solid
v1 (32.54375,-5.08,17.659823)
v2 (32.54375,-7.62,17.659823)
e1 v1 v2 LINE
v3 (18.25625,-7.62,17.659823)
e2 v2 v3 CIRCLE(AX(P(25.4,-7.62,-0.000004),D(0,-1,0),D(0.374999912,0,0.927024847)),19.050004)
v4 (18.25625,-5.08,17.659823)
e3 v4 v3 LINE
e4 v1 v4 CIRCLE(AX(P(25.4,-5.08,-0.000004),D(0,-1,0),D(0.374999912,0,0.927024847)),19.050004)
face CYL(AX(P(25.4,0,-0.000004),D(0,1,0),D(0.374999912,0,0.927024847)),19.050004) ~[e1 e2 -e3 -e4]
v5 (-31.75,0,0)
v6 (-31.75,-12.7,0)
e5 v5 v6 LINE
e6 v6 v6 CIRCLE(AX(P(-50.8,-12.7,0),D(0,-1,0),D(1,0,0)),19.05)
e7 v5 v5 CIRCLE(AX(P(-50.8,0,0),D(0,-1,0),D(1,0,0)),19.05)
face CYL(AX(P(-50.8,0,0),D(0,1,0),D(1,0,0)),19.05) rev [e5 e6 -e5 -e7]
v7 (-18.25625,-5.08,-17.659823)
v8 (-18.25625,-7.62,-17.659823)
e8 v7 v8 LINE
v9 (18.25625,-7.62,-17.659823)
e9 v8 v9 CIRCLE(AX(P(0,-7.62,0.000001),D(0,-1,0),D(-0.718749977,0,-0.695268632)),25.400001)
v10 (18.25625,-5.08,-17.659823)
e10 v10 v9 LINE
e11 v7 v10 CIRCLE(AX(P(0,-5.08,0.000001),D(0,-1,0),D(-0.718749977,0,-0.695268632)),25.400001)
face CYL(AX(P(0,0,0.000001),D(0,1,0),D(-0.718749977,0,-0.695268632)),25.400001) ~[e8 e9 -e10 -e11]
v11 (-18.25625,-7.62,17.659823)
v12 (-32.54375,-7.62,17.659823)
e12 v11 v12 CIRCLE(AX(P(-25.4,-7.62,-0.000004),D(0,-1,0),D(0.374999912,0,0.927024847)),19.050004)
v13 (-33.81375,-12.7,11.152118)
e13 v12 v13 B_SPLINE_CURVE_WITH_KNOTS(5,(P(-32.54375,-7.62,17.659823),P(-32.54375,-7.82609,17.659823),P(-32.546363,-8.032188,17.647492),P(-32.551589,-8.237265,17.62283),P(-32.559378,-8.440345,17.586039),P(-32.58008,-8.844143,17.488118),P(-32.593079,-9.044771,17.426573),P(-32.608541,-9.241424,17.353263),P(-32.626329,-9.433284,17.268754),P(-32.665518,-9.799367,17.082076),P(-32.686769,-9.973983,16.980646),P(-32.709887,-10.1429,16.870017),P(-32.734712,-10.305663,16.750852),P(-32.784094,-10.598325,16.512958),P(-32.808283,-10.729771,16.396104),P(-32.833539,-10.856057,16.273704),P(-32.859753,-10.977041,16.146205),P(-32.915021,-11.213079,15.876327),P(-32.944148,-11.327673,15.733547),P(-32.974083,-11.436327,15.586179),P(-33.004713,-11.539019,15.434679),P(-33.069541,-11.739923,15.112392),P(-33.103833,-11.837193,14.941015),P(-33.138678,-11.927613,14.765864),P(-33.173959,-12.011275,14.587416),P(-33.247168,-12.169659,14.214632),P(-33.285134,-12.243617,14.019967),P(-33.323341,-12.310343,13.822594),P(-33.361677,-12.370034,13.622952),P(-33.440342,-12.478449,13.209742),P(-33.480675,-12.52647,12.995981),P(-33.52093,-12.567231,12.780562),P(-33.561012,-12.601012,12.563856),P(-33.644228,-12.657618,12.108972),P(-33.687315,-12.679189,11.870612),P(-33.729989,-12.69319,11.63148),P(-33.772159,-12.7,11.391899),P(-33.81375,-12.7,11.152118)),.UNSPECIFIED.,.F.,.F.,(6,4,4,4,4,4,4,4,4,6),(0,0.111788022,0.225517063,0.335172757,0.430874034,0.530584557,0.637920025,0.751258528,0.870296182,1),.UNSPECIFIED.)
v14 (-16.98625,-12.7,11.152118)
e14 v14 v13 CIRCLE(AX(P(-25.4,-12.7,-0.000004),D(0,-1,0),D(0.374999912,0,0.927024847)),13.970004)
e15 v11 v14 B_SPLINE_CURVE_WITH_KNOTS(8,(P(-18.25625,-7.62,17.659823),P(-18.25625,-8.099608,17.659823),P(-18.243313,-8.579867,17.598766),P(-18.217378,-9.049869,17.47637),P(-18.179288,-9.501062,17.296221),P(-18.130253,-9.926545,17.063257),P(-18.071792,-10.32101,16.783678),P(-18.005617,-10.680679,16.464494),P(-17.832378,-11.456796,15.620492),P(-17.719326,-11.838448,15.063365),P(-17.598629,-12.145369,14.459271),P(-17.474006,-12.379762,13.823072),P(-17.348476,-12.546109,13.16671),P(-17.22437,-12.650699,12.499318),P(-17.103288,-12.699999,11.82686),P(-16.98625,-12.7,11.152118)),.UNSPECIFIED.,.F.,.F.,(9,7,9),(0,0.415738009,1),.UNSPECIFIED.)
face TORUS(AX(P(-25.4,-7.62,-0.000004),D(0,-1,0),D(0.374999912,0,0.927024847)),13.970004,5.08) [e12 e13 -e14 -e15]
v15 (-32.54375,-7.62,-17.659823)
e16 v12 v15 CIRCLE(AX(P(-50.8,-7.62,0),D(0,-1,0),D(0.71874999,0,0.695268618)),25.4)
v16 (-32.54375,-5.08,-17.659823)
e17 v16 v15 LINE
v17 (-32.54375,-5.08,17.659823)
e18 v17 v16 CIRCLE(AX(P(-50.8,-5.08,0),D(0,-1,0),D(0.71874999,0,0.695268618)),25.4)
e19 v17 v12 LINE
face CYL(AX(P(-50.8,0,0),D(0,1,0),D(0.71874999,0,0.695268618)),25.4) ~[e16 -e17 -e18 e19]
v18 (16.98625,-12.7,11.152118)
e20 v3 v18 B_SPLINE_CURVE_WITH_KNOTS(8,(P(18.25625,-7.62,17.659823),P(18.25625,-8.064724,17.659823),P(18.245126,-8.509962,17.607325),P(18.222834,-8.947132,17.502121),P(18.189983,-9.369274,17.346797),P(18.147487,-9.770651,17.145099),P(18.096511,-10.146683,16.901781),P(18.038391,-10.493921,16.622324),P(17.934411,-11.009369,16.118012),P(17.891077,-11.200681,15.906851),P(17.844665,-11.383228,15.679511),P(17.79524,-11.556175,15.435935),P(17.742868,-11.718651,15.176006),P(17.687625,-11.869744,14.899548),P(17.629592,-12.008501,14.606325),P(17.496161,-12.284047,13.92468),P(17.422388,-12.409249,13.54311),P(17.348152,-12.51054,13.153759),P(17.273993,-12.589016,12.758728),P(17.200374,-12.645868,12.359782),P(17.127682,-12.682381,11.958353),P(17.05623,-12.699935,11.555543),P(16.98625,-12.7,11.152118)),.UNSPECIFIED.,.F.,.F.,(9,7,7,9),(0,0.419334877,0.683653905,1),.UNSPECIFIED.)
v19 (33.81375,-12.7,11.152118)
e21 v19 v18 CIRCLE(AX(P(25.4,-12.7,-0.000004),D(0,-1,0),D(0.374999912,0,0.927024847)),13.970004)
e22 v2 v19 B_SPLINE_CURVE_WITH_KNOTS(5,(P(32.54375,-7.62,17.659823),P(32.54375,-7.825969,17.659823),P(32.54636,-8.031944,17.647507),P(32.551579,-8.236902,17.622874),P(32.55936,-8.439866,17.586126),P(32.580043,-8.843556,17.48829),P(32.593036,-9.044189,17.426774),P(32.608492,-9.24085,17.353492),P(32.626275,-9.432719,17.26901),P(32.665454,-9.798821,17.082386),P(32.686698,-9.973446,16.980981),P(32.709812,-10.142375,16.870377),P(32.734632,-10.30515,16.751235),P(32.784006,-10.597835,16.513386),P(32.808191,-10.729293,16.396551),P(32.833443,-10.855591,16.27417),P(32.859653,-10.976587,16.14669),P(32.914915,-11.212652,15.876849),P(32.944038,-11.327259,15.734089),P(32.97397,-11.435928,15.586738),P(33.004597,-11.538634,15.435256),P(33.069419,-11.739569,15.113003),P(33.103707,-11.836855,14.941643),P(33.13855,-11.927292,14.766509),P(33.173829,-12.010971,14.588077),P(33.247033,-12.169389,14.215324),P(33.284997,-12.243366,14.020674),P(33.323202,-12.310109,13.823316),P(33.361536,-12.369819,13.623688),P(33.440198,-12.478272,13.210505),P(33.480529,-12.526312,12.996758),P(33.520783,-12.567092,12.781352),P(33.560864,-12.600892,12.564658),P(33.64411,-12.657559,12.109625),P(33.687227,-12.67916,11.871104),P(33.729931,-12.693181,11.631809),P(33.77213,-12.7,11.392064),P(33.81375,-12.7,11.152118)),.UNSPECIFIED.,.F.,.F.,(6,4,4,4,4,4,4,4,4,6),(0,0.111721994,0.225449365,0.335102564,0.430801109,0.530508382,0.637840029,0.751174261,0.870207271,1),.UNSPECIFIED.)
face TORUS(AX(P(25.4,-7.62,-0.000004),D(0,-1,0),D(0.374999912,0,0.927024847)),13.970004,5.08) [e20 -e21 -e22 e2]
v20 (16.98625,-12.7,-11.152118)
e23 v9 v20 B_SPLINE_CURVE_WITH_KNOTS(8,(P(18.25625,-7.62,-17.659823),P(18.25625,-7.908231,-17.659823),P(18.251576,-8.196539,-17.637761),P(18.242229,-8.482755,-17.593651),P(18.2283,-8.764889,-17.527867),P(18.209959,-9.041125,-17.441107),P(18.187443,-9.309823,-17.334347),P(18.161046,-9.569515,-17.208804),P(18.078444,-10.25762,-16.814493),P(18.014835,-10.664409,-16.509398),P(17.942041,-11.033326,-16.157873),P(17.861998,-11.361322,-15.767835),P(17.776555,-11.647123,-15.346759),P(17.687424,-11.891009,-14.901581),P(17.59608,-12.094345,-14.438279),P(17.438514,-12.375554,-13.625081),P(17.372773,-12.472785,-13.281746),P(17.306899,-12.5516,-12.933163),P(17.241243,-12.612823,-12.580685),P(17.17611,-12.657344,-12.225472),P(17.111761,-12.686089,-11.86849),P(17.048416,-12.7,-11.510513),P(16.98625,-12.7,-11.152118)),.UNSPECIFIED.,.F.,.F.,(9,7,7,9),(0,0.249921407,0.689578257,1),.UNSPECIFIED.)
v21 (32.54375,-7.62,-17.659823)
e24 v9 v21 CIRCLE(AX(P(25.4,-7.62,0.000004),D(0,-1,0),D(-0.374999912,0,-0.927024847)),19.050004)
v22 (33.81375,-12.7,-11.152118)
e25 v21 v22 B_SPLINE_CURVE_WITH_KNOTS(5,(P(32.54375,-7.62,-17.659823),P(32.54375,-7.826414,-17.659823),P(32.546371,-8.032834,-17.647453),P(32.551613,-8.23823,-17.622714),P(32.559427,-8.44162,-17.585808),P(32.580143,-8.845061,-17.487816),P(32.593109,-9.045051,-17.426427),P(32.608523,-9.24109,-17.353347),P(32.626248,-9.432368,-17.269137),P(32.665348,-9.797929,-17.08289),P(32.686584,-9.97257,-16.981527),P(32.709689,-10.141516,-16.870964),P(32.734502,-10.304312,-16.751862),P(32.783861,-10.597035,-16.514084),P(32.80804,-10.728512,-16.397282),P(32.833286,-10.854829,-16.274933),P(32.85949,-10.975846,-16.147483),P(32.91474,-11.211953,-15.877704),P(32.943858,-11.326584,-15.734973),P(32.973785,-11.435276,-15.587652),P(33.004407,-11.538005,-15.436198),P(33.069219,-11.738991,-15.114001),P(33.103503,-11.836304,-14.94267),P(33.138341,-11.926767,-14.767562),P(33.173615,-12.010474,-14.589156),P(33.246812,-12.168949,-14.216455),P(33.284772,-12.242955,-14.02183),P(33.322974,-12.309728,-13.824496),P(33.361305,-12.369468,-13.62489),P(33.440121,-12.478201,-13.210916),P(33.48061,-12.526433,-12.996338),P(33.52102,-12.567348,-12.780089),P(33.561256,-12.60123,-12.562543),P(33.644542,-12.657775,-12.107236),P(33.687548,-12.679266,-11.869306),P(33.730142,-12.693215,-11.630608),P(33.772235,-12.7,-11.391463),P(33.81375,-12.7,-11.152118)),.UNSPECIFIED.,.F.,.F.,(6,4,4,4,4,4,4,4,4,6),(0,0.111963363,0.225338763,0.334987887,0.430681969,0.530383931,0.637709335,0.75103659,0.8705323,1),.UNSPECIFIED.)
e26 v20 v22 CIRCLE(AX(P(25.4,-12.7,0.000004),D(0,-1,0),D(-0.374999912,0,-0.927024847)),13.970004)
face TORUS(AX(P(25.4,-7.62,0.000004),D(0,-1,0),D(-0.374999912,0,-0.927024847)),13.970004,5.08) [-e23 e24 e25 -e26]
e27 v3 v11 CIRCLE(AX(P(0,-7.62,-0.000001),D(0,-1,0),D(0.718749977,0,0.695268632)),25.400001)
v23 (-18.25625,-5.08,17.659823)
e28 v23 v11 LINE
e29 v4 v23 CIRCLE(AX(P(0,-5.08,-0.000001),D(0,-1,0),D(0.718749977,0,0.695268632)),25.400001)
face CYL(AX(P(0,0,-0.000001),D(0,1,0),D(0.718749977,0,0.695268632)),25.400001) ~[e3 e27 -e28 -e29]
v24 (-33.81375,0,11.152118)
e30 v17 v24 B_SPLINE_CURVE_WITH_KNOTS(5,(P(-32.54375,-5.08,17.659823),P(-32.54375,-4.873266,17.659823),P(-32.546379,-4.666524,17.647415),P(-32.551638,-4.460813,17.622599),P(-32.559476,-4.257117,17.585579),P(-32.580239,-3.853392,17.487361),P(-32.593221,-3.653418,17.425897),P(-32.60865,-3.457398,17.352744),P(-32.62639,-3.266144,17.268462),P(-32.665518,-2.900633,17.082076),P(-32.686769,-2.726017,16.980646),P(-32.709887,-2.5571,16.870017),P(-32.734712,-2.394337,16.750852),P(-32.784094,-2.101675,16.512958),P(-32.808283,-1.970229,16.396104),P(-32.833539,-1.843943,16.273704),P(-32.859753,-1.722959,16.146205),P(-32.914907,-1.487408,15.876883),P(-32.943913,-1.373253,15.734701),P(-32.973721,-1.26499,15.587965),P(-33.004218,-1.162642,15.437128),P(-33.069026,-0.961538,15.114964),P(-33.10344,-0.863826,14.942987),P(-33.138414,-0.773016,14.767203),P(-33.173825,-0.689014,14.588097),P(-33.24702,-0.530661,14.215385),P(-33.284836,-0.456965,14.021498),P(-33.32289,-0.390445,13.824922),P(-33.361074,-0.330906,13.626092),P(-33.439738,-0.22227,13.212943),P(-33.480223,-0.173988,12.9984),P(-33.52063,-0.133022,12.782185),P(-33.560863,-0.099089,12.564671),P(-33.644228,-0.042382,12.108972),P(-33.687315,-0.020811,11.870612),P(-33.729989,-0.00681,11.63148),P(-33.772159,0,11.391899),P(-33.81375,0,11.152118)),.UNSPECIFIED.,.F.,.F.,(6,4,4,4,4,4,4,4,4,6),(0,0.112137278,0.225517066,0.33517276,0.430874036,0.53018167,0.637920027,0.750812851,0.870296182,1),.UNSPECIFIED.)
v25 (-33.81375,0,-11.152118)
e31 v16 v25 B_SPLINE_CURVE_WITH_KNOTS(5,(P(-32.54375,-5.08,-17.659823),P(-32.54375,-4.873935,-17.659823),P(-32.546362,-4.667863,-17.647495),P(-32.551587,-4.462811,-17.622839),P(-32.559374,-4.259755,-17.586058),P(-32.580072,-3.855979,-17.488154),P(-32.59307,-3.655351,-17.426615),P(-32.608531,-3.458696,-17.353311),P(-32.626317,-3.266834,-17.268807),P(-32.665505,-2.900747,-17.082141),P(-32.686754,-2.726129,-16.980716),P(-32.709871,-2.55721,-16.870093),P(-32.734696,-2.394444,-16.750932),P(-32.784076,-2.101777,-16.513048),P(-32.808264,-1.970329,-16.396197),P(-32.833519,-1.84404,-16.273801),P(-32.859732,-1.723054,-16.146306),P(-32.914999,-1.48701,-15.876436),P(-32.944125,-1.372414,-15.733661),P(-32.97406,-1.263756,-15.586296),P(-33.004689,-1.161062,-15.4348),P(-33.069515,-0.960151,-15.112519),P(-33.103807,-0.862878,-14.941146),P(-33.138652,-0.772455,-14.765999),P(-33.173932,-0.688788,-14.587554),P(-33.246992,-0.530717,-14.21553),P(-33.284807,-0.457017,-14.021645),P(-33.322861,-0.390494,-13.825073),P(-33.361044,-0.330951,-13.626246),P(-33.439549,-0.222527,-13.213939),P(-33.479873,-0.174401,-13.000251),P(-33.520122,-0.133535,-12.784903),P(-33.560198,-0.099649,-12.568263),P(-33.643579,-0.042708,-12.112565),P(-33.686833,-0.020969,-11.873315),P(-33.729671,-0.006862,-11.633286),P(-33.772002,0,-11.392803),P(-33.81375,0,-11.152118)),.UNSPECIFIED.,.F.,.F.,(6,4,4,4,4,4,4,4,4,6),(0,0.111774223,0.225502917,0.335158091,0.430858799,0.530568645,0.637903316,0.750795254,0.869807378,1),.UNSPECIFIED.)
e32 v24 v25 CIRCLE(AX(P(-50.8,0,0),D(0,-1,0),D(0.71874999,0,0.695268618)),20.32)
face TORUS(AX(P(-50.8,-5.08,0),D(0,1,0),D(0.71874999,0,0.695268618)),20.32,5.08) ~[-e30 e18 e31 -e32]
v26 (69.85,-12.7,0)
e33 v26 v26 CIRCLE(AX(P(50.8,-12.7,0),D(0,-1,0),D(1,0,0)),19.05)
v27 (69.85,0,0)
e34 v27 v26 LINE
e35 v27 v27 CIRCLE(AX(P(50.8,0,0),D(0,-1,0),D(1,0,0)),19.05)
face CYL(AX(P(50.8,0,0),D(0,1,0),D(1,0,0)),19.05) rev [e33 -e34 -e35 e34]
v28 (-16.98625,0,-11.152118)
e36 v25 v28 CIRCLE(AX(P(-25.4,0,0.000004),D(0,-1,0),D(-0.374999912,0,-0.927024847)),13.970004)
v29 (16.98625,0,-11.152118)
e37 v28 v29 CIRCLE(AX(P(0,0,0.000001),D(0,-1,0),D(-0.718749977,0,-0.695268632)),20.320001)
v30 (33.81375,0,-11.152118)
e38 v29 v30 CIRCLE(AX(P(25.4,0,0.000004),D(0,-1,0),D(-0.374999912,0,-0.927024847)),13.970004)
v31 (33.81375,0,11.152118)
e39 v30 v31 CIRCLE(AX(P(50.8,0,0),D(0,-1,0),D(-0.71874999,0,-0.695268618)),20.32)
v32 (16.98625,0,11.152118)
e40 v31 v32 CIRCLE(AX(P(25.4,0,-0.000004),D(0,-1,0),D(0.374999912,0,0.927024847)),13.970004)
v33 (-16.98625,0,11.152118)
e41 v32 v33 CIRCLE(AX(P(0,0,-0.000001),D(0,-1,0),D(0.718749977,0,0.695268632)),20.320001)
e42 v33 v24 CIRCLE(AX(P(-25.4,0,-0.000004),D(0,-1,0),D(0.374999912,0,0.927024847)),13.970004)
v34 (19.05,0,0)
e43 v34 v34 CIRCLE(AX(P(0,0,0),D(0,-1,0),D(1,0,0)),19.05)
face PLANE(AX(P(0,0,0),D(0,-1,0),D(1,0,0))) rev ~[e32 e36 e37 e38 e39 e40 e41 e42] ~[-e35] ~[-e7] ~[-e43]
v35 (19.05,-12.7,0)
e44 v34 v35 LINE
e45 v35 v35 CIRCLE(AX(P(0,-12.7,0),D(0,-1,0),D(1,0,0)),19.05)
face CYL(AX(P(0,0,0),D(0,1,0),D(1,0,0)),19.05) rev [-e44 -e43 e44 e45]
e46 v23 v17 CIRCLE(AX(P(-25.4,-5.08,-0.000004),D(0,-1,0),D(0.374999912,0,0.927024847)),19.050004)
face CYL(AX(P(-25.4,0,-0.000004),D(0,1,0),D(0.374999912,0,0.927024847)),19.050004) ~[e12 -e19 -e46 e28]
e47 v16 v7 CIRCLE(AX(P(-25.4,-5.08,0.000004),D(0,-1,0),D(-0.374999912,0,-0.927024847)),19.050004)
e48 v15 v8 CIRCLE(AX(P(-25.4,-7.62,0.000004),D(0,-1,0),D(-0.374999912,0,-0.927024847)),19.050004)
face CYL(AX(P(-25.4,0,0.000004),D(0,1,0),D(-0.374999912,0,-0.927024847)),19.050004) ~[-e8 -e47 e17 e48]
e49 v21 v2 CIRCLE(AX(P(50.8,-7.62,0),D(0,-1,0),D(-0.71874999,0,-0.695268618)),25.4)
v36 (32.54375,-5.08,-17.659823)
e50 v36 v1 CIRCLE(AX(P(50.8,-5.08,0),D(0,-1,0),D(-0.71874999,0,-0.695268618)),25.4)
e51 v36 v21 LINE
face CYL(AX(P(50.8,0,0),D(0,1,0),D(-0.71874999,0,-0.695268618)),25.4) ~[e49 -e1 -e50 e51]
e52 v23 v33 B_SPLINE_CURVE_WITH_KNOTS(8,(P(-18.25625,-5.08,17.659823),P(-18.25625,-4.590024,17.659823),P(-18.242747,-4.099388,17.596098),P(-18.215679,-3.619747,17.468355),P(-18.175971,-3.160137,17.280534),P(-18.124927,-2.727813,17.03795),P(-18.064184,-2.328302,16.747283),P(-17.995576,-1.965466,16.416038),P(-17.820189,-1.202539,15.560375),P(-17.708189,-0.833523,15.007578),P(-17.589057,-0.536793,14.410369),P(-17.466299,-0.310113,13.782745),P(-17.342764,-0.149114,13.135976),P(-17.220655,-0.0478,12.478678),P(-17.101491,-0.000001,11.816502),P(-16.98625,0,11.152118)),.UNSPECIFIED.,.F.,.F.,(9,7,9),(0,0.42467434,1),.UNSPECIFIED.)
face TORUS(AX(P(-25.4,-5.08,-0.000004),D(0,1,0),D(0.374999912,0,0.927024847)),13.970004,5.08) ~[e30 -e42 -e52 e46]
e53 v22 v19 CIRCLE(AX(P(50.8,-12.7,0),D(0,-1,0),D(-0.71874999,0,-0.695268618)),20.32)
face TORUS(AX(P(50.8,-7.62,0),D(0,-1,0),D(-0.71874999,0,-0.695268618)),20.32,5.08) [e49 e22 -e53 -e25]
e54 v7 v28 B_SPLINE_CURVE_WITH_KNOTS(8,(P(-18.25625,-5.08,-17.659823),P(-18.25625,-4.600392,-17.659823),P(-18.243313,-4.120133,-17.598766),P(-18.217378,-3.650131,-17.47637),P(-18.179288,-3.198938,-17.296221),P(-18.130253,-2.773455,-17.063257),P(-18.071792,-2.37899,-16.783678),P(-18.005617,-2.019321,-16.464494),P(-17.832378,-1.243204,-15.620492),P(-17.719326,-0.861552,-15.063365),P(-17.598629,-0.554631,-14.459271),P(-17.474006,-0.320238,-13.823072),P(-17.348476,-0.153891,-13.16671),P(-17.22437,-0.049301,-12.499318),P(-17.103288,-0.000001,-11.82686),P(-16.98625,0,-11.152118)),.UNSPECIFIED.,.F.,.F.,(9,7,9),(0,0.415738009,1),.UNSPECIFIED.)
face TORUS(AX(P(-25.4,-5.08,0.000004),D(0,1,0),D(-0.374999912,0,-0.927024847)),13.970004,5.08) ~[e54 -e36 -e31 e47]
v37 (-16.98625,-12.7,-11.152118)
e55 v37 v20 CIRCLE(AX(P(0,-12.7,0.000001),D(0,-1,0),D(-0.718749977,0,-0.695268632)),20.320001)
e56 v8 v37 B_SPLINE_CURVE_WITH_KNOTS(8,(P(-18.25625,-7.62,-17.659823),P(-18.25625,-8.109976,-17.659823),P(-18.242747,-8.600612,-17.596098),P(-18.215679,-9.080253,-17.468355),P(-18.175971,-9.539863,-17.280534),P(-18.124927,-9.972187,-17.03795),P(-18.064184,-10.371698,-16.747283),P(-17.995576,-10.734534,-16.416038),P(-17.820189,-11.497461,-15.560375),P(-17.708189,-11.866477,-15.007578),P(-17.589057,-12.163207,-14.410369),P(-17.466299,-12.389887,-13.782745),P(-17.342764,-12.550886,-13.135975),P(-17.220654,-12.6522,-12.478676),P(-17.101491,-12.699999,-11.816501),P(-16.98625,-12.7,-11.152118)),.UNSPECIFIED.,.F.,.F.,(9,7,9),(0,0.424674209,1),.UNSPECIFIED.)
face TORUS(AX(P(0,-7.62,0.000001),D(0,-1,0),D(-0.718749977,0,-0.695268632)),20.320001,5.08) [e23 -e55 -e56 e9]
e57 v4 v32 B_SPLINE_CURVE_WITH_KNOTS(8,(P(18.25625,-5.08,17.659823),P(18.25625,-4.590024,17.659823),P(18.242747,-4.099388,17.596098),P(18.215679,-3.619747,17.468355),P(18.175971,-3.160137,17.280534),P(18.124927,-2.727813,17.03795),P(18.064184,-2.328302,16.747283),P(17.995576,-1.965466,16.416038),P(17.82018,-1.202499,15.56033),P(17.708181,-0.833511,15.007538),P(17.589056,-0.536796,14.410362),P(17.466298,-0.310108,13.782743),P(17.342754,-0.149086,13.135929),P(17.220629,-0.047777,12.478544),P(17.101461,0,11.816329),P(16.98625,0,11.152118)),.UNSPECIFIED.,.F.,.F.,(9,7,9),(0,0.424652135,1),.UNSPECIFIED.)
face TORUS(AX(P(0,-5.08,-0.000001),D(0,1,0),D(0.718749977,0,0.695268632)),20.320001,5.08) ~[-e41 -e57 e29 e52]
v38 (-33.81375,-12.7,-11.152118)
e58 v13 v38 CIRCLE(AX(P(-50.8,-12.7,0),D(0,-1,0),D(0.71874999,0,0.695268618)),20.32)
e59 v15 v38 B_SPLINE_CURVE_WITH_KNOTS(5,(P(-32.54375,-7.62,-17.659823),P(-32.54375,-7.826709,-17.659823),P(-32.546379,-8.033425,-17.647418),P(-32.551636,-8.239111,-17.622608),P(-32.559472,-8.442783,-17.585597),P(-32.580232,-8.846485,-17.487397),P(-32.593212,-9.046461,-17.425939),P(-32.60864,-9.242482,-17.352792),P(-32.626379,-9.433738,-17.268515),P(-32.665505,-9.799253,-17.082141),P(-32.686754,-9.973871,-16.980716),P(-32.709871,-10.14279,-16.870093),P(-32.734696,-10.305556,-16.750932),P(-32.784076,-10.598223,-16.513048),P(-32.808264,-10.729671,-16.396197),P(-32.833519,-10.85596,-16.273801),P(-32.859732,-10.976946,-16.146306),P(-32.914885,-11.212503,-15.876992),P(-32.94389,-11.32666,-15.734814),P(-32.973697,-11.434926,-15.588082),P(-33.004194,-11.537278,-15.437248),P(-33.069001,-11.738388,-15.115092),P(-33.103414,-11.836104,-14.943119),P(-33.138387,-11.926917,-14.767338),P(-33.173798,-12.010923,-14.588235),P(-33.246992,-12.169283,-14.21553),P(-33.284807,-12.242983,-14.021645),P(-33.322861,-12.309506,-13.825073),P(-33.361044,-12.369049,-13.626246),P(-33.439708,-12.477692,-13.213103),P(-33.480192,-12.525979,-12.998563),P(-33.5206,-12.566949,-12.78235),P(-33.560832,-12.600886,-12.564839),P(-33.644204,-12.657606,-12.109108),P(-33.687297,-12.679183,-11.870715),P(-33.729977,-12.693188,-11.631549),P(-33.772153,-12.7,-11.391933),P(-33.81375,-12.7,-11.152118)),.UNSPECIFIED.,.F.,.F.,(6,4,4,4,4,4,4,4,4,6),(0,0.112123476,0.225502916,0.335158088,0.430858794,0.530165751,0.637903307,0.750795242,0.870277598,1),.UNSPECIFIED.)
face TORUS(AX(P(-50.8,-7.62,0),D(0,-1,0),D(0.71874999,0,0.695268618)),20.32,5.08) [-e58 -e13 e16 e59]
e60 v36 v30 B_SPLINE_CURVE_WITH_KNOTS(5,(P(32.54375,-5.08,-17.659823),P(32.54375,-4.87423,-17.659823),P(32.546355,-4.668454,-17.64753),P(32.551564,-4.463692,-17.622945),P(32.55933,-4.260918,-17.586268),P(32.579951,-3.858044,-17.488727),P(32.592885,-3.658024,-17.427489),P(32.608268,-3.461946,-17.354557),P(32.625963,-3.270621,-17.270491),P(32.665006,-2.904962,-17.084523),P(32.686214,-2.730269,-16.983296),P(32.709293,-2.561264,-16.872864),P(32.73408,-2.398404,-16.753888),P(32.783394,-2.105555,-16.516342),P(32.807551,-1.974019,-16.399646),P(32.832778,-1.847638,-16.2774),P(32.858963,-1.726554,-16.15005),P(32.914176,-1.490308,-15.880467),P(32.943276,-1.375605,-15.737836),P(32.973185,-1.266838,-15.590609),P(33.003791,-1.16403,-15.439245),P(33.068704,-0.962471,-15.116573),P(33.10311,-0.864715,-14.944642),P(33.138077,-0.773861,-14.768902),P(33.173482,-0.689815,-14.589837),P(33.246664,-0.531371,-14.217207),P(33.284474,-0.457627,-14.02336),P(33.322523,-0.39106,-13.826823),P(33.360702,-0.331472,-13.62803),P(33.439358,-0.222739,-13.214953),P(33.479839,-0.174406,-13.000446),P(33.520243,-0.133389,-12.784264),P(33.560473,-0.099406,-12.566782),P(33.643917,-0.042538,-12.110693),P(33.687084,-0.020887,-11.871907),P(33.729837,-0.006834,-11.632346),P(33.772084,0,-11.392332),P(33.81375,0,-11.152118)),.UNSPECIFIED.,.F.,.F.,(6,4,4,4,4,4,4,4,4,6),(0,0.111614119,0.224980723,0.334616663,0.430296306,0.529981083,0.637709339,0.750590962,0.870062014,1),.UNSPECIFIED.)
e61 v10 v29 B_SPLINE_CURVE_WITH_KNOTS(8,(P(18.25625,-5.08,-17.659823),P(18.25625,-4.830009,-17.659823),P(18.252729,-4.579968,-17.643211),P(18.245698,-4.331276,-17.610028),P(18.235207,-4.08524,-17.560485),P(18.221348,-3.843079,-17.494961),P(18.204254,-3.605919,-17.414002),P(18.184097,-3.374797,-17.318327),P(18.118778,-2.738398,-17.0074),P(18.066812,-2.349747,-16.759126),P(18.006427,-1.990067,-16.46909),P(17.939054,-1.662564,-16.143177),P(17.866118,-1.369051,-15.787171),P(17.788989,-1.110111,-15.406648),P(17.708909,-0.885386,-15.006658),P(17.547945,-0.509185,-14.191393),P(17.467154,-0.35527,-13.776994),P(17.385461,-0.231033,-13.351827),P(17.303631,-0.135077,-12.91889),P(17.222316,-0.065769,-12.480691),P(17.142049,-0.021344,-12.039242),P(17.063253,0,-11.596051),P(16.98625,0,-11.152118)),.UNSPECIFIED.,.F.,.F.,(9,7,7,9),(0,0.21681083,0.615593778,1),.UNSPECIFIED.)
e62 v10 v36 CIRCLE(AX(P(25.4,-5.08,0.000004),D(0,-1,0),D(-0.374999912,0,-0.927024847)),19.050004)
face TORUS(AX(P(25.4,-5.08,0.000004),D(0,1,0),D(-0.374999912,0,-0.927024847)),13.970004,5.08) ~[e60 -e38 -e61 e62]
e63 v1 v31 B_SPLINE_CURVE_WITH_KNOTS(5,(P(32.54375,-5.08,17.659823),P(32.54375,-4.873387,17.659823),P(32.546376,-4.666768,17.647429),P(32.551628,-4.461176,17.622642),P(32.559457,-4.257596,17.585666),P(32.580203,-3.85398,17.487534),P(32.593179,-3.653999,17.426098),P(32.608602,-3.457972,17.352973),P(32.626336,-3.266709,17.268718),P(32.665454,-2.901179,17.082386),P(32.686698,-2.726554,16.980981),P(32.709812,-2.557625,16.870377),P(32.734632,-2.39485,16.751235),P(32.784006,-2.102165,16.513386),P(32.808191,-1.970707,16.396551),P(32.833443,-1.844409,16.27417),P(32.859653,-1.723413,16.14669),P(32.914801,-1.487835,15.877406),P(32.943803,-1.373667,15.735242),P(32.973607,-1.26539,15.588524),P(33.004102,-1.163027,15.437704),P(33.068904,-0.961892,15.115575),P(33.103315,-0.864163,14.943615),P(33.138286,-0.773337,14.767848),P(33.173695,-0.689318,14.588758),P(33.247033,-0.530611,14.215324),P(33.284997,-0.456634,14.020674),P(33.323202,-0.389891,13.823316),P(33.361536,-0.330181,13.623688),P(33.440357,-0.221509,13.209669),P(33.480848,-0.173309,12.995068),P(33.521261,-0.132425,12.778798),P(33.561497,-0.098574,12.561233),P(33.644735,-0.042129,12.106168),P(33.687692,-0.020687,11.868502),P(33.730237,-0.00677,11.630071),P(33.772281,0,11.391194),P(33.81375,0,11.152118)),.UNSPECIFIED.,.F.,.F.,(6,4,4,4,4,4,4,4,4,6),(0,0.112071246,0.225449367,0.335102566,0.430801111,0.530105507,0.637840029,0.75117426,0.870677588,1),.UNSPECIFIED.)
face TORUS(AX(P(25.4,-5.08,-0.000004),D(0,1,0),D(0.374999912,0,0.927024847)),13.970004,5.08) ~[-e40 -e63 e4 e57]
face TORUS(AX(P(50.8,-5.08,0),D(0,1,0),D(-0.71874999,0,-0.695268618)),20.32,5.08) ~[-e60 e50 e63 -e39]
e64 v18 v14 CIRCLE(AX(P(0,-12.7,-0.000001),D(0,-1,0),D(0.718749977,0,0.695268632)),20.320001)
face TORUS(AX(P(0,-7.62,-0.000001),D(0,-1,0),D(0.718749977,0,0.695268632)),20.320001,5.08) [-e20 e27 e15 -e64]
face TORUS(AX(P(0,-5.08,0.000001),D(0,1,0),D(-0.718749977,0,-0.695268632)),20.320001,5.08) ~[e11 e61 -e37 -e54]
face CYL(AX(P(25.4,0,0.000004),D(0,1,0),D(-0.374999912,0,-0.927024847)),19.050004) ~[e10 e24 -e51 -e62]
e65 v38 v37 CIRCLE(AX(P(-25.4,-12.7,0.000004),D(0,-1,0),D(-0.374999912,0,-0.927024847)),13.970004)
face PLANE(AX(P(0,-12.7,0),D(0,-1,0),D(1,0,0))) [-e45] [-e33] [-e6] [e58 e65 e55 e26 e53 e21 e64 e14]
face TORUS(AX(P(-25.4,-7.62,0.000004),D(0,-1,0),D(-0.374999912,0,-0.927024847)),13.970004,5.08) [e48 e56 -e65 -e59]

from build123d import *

# Parameters (mm, degrees)
F0_R     = 19.05
F1_DEPTH = 12.7
F2_R     = 5.08


with BuildPart() as f1:
    # F0 (on Front) → F1 (new body)
    with BuildSketch(Plane.XZ):
        with BuildLine():
            ThreePointArc((-32.54375, 17.659823), (-76.2, 0), (-32.54375, -17.659823))
            ThreePointArc((-32.54375, -17.659823), (-25.4, -19.05), (-18.25625, -17.659823))
            ThreePointArc((-18.25625, -17.659823), (0, -25.4), (18.25625, -17.659823))
            ThreePointArc((18.25625, -17.659823), (25.4, -19.05), (32.54375, -17.659823))
            ThreePointArc((32.54375, -17.659823), (76.2, 0), (32.54375, 17.659823))
            ThreePointArc((32.54375, 17.659823), (25.4, 19.05), (18.25625, 17.659823))
            ThreePointArc((18.25625, 17.659823), (0, 25.4), (-18.25625, 17.659823))
            ThreePointArc((-18.25625, 17.659823), (-25.4, 19.05), (-32.54375, 17.659823))
        make_face()
        with Locations((-50.8, 0)):
            Circle(F0_R, mode=Mode.SUBTRACT)
        Circle(F0_R, mode=Mode.SUBTRACT)
        with Locations((50.8, 0)):
            Circle(F0_R, mode=Mode.SUBTRACT)
    extrude(amount=F1_DEPTH)

    # F2
    f2_edges = [f1.edges().sort_by_distance(p)[0] for p in [
        (-76.2, -12.7, 0),
        (-76.2, 0, 0),
        (-25.4, -12.7, 19.05),
        (-25.4, 0, 19.05),
        (0, 0, 25.4),
        (0, -12.7, 25.4),
        (25.4, -12.7, 19.05),
        (25.4, 0, 19.05),
        (76.2, -12.7, 0),
        (76.2, 0, 0),
        (-25.4, 0, -19.05),
        (-25.4, -12.7, -19.05),
        (0, -12.7, -25.4),
        (0, 0, -25.4),
        (25.4, 0, -19.05),
        (25.4, -12.7, -19.05),
    ]]
    fillet(f2_edges, radius=F2_R)


solid = f1.part
